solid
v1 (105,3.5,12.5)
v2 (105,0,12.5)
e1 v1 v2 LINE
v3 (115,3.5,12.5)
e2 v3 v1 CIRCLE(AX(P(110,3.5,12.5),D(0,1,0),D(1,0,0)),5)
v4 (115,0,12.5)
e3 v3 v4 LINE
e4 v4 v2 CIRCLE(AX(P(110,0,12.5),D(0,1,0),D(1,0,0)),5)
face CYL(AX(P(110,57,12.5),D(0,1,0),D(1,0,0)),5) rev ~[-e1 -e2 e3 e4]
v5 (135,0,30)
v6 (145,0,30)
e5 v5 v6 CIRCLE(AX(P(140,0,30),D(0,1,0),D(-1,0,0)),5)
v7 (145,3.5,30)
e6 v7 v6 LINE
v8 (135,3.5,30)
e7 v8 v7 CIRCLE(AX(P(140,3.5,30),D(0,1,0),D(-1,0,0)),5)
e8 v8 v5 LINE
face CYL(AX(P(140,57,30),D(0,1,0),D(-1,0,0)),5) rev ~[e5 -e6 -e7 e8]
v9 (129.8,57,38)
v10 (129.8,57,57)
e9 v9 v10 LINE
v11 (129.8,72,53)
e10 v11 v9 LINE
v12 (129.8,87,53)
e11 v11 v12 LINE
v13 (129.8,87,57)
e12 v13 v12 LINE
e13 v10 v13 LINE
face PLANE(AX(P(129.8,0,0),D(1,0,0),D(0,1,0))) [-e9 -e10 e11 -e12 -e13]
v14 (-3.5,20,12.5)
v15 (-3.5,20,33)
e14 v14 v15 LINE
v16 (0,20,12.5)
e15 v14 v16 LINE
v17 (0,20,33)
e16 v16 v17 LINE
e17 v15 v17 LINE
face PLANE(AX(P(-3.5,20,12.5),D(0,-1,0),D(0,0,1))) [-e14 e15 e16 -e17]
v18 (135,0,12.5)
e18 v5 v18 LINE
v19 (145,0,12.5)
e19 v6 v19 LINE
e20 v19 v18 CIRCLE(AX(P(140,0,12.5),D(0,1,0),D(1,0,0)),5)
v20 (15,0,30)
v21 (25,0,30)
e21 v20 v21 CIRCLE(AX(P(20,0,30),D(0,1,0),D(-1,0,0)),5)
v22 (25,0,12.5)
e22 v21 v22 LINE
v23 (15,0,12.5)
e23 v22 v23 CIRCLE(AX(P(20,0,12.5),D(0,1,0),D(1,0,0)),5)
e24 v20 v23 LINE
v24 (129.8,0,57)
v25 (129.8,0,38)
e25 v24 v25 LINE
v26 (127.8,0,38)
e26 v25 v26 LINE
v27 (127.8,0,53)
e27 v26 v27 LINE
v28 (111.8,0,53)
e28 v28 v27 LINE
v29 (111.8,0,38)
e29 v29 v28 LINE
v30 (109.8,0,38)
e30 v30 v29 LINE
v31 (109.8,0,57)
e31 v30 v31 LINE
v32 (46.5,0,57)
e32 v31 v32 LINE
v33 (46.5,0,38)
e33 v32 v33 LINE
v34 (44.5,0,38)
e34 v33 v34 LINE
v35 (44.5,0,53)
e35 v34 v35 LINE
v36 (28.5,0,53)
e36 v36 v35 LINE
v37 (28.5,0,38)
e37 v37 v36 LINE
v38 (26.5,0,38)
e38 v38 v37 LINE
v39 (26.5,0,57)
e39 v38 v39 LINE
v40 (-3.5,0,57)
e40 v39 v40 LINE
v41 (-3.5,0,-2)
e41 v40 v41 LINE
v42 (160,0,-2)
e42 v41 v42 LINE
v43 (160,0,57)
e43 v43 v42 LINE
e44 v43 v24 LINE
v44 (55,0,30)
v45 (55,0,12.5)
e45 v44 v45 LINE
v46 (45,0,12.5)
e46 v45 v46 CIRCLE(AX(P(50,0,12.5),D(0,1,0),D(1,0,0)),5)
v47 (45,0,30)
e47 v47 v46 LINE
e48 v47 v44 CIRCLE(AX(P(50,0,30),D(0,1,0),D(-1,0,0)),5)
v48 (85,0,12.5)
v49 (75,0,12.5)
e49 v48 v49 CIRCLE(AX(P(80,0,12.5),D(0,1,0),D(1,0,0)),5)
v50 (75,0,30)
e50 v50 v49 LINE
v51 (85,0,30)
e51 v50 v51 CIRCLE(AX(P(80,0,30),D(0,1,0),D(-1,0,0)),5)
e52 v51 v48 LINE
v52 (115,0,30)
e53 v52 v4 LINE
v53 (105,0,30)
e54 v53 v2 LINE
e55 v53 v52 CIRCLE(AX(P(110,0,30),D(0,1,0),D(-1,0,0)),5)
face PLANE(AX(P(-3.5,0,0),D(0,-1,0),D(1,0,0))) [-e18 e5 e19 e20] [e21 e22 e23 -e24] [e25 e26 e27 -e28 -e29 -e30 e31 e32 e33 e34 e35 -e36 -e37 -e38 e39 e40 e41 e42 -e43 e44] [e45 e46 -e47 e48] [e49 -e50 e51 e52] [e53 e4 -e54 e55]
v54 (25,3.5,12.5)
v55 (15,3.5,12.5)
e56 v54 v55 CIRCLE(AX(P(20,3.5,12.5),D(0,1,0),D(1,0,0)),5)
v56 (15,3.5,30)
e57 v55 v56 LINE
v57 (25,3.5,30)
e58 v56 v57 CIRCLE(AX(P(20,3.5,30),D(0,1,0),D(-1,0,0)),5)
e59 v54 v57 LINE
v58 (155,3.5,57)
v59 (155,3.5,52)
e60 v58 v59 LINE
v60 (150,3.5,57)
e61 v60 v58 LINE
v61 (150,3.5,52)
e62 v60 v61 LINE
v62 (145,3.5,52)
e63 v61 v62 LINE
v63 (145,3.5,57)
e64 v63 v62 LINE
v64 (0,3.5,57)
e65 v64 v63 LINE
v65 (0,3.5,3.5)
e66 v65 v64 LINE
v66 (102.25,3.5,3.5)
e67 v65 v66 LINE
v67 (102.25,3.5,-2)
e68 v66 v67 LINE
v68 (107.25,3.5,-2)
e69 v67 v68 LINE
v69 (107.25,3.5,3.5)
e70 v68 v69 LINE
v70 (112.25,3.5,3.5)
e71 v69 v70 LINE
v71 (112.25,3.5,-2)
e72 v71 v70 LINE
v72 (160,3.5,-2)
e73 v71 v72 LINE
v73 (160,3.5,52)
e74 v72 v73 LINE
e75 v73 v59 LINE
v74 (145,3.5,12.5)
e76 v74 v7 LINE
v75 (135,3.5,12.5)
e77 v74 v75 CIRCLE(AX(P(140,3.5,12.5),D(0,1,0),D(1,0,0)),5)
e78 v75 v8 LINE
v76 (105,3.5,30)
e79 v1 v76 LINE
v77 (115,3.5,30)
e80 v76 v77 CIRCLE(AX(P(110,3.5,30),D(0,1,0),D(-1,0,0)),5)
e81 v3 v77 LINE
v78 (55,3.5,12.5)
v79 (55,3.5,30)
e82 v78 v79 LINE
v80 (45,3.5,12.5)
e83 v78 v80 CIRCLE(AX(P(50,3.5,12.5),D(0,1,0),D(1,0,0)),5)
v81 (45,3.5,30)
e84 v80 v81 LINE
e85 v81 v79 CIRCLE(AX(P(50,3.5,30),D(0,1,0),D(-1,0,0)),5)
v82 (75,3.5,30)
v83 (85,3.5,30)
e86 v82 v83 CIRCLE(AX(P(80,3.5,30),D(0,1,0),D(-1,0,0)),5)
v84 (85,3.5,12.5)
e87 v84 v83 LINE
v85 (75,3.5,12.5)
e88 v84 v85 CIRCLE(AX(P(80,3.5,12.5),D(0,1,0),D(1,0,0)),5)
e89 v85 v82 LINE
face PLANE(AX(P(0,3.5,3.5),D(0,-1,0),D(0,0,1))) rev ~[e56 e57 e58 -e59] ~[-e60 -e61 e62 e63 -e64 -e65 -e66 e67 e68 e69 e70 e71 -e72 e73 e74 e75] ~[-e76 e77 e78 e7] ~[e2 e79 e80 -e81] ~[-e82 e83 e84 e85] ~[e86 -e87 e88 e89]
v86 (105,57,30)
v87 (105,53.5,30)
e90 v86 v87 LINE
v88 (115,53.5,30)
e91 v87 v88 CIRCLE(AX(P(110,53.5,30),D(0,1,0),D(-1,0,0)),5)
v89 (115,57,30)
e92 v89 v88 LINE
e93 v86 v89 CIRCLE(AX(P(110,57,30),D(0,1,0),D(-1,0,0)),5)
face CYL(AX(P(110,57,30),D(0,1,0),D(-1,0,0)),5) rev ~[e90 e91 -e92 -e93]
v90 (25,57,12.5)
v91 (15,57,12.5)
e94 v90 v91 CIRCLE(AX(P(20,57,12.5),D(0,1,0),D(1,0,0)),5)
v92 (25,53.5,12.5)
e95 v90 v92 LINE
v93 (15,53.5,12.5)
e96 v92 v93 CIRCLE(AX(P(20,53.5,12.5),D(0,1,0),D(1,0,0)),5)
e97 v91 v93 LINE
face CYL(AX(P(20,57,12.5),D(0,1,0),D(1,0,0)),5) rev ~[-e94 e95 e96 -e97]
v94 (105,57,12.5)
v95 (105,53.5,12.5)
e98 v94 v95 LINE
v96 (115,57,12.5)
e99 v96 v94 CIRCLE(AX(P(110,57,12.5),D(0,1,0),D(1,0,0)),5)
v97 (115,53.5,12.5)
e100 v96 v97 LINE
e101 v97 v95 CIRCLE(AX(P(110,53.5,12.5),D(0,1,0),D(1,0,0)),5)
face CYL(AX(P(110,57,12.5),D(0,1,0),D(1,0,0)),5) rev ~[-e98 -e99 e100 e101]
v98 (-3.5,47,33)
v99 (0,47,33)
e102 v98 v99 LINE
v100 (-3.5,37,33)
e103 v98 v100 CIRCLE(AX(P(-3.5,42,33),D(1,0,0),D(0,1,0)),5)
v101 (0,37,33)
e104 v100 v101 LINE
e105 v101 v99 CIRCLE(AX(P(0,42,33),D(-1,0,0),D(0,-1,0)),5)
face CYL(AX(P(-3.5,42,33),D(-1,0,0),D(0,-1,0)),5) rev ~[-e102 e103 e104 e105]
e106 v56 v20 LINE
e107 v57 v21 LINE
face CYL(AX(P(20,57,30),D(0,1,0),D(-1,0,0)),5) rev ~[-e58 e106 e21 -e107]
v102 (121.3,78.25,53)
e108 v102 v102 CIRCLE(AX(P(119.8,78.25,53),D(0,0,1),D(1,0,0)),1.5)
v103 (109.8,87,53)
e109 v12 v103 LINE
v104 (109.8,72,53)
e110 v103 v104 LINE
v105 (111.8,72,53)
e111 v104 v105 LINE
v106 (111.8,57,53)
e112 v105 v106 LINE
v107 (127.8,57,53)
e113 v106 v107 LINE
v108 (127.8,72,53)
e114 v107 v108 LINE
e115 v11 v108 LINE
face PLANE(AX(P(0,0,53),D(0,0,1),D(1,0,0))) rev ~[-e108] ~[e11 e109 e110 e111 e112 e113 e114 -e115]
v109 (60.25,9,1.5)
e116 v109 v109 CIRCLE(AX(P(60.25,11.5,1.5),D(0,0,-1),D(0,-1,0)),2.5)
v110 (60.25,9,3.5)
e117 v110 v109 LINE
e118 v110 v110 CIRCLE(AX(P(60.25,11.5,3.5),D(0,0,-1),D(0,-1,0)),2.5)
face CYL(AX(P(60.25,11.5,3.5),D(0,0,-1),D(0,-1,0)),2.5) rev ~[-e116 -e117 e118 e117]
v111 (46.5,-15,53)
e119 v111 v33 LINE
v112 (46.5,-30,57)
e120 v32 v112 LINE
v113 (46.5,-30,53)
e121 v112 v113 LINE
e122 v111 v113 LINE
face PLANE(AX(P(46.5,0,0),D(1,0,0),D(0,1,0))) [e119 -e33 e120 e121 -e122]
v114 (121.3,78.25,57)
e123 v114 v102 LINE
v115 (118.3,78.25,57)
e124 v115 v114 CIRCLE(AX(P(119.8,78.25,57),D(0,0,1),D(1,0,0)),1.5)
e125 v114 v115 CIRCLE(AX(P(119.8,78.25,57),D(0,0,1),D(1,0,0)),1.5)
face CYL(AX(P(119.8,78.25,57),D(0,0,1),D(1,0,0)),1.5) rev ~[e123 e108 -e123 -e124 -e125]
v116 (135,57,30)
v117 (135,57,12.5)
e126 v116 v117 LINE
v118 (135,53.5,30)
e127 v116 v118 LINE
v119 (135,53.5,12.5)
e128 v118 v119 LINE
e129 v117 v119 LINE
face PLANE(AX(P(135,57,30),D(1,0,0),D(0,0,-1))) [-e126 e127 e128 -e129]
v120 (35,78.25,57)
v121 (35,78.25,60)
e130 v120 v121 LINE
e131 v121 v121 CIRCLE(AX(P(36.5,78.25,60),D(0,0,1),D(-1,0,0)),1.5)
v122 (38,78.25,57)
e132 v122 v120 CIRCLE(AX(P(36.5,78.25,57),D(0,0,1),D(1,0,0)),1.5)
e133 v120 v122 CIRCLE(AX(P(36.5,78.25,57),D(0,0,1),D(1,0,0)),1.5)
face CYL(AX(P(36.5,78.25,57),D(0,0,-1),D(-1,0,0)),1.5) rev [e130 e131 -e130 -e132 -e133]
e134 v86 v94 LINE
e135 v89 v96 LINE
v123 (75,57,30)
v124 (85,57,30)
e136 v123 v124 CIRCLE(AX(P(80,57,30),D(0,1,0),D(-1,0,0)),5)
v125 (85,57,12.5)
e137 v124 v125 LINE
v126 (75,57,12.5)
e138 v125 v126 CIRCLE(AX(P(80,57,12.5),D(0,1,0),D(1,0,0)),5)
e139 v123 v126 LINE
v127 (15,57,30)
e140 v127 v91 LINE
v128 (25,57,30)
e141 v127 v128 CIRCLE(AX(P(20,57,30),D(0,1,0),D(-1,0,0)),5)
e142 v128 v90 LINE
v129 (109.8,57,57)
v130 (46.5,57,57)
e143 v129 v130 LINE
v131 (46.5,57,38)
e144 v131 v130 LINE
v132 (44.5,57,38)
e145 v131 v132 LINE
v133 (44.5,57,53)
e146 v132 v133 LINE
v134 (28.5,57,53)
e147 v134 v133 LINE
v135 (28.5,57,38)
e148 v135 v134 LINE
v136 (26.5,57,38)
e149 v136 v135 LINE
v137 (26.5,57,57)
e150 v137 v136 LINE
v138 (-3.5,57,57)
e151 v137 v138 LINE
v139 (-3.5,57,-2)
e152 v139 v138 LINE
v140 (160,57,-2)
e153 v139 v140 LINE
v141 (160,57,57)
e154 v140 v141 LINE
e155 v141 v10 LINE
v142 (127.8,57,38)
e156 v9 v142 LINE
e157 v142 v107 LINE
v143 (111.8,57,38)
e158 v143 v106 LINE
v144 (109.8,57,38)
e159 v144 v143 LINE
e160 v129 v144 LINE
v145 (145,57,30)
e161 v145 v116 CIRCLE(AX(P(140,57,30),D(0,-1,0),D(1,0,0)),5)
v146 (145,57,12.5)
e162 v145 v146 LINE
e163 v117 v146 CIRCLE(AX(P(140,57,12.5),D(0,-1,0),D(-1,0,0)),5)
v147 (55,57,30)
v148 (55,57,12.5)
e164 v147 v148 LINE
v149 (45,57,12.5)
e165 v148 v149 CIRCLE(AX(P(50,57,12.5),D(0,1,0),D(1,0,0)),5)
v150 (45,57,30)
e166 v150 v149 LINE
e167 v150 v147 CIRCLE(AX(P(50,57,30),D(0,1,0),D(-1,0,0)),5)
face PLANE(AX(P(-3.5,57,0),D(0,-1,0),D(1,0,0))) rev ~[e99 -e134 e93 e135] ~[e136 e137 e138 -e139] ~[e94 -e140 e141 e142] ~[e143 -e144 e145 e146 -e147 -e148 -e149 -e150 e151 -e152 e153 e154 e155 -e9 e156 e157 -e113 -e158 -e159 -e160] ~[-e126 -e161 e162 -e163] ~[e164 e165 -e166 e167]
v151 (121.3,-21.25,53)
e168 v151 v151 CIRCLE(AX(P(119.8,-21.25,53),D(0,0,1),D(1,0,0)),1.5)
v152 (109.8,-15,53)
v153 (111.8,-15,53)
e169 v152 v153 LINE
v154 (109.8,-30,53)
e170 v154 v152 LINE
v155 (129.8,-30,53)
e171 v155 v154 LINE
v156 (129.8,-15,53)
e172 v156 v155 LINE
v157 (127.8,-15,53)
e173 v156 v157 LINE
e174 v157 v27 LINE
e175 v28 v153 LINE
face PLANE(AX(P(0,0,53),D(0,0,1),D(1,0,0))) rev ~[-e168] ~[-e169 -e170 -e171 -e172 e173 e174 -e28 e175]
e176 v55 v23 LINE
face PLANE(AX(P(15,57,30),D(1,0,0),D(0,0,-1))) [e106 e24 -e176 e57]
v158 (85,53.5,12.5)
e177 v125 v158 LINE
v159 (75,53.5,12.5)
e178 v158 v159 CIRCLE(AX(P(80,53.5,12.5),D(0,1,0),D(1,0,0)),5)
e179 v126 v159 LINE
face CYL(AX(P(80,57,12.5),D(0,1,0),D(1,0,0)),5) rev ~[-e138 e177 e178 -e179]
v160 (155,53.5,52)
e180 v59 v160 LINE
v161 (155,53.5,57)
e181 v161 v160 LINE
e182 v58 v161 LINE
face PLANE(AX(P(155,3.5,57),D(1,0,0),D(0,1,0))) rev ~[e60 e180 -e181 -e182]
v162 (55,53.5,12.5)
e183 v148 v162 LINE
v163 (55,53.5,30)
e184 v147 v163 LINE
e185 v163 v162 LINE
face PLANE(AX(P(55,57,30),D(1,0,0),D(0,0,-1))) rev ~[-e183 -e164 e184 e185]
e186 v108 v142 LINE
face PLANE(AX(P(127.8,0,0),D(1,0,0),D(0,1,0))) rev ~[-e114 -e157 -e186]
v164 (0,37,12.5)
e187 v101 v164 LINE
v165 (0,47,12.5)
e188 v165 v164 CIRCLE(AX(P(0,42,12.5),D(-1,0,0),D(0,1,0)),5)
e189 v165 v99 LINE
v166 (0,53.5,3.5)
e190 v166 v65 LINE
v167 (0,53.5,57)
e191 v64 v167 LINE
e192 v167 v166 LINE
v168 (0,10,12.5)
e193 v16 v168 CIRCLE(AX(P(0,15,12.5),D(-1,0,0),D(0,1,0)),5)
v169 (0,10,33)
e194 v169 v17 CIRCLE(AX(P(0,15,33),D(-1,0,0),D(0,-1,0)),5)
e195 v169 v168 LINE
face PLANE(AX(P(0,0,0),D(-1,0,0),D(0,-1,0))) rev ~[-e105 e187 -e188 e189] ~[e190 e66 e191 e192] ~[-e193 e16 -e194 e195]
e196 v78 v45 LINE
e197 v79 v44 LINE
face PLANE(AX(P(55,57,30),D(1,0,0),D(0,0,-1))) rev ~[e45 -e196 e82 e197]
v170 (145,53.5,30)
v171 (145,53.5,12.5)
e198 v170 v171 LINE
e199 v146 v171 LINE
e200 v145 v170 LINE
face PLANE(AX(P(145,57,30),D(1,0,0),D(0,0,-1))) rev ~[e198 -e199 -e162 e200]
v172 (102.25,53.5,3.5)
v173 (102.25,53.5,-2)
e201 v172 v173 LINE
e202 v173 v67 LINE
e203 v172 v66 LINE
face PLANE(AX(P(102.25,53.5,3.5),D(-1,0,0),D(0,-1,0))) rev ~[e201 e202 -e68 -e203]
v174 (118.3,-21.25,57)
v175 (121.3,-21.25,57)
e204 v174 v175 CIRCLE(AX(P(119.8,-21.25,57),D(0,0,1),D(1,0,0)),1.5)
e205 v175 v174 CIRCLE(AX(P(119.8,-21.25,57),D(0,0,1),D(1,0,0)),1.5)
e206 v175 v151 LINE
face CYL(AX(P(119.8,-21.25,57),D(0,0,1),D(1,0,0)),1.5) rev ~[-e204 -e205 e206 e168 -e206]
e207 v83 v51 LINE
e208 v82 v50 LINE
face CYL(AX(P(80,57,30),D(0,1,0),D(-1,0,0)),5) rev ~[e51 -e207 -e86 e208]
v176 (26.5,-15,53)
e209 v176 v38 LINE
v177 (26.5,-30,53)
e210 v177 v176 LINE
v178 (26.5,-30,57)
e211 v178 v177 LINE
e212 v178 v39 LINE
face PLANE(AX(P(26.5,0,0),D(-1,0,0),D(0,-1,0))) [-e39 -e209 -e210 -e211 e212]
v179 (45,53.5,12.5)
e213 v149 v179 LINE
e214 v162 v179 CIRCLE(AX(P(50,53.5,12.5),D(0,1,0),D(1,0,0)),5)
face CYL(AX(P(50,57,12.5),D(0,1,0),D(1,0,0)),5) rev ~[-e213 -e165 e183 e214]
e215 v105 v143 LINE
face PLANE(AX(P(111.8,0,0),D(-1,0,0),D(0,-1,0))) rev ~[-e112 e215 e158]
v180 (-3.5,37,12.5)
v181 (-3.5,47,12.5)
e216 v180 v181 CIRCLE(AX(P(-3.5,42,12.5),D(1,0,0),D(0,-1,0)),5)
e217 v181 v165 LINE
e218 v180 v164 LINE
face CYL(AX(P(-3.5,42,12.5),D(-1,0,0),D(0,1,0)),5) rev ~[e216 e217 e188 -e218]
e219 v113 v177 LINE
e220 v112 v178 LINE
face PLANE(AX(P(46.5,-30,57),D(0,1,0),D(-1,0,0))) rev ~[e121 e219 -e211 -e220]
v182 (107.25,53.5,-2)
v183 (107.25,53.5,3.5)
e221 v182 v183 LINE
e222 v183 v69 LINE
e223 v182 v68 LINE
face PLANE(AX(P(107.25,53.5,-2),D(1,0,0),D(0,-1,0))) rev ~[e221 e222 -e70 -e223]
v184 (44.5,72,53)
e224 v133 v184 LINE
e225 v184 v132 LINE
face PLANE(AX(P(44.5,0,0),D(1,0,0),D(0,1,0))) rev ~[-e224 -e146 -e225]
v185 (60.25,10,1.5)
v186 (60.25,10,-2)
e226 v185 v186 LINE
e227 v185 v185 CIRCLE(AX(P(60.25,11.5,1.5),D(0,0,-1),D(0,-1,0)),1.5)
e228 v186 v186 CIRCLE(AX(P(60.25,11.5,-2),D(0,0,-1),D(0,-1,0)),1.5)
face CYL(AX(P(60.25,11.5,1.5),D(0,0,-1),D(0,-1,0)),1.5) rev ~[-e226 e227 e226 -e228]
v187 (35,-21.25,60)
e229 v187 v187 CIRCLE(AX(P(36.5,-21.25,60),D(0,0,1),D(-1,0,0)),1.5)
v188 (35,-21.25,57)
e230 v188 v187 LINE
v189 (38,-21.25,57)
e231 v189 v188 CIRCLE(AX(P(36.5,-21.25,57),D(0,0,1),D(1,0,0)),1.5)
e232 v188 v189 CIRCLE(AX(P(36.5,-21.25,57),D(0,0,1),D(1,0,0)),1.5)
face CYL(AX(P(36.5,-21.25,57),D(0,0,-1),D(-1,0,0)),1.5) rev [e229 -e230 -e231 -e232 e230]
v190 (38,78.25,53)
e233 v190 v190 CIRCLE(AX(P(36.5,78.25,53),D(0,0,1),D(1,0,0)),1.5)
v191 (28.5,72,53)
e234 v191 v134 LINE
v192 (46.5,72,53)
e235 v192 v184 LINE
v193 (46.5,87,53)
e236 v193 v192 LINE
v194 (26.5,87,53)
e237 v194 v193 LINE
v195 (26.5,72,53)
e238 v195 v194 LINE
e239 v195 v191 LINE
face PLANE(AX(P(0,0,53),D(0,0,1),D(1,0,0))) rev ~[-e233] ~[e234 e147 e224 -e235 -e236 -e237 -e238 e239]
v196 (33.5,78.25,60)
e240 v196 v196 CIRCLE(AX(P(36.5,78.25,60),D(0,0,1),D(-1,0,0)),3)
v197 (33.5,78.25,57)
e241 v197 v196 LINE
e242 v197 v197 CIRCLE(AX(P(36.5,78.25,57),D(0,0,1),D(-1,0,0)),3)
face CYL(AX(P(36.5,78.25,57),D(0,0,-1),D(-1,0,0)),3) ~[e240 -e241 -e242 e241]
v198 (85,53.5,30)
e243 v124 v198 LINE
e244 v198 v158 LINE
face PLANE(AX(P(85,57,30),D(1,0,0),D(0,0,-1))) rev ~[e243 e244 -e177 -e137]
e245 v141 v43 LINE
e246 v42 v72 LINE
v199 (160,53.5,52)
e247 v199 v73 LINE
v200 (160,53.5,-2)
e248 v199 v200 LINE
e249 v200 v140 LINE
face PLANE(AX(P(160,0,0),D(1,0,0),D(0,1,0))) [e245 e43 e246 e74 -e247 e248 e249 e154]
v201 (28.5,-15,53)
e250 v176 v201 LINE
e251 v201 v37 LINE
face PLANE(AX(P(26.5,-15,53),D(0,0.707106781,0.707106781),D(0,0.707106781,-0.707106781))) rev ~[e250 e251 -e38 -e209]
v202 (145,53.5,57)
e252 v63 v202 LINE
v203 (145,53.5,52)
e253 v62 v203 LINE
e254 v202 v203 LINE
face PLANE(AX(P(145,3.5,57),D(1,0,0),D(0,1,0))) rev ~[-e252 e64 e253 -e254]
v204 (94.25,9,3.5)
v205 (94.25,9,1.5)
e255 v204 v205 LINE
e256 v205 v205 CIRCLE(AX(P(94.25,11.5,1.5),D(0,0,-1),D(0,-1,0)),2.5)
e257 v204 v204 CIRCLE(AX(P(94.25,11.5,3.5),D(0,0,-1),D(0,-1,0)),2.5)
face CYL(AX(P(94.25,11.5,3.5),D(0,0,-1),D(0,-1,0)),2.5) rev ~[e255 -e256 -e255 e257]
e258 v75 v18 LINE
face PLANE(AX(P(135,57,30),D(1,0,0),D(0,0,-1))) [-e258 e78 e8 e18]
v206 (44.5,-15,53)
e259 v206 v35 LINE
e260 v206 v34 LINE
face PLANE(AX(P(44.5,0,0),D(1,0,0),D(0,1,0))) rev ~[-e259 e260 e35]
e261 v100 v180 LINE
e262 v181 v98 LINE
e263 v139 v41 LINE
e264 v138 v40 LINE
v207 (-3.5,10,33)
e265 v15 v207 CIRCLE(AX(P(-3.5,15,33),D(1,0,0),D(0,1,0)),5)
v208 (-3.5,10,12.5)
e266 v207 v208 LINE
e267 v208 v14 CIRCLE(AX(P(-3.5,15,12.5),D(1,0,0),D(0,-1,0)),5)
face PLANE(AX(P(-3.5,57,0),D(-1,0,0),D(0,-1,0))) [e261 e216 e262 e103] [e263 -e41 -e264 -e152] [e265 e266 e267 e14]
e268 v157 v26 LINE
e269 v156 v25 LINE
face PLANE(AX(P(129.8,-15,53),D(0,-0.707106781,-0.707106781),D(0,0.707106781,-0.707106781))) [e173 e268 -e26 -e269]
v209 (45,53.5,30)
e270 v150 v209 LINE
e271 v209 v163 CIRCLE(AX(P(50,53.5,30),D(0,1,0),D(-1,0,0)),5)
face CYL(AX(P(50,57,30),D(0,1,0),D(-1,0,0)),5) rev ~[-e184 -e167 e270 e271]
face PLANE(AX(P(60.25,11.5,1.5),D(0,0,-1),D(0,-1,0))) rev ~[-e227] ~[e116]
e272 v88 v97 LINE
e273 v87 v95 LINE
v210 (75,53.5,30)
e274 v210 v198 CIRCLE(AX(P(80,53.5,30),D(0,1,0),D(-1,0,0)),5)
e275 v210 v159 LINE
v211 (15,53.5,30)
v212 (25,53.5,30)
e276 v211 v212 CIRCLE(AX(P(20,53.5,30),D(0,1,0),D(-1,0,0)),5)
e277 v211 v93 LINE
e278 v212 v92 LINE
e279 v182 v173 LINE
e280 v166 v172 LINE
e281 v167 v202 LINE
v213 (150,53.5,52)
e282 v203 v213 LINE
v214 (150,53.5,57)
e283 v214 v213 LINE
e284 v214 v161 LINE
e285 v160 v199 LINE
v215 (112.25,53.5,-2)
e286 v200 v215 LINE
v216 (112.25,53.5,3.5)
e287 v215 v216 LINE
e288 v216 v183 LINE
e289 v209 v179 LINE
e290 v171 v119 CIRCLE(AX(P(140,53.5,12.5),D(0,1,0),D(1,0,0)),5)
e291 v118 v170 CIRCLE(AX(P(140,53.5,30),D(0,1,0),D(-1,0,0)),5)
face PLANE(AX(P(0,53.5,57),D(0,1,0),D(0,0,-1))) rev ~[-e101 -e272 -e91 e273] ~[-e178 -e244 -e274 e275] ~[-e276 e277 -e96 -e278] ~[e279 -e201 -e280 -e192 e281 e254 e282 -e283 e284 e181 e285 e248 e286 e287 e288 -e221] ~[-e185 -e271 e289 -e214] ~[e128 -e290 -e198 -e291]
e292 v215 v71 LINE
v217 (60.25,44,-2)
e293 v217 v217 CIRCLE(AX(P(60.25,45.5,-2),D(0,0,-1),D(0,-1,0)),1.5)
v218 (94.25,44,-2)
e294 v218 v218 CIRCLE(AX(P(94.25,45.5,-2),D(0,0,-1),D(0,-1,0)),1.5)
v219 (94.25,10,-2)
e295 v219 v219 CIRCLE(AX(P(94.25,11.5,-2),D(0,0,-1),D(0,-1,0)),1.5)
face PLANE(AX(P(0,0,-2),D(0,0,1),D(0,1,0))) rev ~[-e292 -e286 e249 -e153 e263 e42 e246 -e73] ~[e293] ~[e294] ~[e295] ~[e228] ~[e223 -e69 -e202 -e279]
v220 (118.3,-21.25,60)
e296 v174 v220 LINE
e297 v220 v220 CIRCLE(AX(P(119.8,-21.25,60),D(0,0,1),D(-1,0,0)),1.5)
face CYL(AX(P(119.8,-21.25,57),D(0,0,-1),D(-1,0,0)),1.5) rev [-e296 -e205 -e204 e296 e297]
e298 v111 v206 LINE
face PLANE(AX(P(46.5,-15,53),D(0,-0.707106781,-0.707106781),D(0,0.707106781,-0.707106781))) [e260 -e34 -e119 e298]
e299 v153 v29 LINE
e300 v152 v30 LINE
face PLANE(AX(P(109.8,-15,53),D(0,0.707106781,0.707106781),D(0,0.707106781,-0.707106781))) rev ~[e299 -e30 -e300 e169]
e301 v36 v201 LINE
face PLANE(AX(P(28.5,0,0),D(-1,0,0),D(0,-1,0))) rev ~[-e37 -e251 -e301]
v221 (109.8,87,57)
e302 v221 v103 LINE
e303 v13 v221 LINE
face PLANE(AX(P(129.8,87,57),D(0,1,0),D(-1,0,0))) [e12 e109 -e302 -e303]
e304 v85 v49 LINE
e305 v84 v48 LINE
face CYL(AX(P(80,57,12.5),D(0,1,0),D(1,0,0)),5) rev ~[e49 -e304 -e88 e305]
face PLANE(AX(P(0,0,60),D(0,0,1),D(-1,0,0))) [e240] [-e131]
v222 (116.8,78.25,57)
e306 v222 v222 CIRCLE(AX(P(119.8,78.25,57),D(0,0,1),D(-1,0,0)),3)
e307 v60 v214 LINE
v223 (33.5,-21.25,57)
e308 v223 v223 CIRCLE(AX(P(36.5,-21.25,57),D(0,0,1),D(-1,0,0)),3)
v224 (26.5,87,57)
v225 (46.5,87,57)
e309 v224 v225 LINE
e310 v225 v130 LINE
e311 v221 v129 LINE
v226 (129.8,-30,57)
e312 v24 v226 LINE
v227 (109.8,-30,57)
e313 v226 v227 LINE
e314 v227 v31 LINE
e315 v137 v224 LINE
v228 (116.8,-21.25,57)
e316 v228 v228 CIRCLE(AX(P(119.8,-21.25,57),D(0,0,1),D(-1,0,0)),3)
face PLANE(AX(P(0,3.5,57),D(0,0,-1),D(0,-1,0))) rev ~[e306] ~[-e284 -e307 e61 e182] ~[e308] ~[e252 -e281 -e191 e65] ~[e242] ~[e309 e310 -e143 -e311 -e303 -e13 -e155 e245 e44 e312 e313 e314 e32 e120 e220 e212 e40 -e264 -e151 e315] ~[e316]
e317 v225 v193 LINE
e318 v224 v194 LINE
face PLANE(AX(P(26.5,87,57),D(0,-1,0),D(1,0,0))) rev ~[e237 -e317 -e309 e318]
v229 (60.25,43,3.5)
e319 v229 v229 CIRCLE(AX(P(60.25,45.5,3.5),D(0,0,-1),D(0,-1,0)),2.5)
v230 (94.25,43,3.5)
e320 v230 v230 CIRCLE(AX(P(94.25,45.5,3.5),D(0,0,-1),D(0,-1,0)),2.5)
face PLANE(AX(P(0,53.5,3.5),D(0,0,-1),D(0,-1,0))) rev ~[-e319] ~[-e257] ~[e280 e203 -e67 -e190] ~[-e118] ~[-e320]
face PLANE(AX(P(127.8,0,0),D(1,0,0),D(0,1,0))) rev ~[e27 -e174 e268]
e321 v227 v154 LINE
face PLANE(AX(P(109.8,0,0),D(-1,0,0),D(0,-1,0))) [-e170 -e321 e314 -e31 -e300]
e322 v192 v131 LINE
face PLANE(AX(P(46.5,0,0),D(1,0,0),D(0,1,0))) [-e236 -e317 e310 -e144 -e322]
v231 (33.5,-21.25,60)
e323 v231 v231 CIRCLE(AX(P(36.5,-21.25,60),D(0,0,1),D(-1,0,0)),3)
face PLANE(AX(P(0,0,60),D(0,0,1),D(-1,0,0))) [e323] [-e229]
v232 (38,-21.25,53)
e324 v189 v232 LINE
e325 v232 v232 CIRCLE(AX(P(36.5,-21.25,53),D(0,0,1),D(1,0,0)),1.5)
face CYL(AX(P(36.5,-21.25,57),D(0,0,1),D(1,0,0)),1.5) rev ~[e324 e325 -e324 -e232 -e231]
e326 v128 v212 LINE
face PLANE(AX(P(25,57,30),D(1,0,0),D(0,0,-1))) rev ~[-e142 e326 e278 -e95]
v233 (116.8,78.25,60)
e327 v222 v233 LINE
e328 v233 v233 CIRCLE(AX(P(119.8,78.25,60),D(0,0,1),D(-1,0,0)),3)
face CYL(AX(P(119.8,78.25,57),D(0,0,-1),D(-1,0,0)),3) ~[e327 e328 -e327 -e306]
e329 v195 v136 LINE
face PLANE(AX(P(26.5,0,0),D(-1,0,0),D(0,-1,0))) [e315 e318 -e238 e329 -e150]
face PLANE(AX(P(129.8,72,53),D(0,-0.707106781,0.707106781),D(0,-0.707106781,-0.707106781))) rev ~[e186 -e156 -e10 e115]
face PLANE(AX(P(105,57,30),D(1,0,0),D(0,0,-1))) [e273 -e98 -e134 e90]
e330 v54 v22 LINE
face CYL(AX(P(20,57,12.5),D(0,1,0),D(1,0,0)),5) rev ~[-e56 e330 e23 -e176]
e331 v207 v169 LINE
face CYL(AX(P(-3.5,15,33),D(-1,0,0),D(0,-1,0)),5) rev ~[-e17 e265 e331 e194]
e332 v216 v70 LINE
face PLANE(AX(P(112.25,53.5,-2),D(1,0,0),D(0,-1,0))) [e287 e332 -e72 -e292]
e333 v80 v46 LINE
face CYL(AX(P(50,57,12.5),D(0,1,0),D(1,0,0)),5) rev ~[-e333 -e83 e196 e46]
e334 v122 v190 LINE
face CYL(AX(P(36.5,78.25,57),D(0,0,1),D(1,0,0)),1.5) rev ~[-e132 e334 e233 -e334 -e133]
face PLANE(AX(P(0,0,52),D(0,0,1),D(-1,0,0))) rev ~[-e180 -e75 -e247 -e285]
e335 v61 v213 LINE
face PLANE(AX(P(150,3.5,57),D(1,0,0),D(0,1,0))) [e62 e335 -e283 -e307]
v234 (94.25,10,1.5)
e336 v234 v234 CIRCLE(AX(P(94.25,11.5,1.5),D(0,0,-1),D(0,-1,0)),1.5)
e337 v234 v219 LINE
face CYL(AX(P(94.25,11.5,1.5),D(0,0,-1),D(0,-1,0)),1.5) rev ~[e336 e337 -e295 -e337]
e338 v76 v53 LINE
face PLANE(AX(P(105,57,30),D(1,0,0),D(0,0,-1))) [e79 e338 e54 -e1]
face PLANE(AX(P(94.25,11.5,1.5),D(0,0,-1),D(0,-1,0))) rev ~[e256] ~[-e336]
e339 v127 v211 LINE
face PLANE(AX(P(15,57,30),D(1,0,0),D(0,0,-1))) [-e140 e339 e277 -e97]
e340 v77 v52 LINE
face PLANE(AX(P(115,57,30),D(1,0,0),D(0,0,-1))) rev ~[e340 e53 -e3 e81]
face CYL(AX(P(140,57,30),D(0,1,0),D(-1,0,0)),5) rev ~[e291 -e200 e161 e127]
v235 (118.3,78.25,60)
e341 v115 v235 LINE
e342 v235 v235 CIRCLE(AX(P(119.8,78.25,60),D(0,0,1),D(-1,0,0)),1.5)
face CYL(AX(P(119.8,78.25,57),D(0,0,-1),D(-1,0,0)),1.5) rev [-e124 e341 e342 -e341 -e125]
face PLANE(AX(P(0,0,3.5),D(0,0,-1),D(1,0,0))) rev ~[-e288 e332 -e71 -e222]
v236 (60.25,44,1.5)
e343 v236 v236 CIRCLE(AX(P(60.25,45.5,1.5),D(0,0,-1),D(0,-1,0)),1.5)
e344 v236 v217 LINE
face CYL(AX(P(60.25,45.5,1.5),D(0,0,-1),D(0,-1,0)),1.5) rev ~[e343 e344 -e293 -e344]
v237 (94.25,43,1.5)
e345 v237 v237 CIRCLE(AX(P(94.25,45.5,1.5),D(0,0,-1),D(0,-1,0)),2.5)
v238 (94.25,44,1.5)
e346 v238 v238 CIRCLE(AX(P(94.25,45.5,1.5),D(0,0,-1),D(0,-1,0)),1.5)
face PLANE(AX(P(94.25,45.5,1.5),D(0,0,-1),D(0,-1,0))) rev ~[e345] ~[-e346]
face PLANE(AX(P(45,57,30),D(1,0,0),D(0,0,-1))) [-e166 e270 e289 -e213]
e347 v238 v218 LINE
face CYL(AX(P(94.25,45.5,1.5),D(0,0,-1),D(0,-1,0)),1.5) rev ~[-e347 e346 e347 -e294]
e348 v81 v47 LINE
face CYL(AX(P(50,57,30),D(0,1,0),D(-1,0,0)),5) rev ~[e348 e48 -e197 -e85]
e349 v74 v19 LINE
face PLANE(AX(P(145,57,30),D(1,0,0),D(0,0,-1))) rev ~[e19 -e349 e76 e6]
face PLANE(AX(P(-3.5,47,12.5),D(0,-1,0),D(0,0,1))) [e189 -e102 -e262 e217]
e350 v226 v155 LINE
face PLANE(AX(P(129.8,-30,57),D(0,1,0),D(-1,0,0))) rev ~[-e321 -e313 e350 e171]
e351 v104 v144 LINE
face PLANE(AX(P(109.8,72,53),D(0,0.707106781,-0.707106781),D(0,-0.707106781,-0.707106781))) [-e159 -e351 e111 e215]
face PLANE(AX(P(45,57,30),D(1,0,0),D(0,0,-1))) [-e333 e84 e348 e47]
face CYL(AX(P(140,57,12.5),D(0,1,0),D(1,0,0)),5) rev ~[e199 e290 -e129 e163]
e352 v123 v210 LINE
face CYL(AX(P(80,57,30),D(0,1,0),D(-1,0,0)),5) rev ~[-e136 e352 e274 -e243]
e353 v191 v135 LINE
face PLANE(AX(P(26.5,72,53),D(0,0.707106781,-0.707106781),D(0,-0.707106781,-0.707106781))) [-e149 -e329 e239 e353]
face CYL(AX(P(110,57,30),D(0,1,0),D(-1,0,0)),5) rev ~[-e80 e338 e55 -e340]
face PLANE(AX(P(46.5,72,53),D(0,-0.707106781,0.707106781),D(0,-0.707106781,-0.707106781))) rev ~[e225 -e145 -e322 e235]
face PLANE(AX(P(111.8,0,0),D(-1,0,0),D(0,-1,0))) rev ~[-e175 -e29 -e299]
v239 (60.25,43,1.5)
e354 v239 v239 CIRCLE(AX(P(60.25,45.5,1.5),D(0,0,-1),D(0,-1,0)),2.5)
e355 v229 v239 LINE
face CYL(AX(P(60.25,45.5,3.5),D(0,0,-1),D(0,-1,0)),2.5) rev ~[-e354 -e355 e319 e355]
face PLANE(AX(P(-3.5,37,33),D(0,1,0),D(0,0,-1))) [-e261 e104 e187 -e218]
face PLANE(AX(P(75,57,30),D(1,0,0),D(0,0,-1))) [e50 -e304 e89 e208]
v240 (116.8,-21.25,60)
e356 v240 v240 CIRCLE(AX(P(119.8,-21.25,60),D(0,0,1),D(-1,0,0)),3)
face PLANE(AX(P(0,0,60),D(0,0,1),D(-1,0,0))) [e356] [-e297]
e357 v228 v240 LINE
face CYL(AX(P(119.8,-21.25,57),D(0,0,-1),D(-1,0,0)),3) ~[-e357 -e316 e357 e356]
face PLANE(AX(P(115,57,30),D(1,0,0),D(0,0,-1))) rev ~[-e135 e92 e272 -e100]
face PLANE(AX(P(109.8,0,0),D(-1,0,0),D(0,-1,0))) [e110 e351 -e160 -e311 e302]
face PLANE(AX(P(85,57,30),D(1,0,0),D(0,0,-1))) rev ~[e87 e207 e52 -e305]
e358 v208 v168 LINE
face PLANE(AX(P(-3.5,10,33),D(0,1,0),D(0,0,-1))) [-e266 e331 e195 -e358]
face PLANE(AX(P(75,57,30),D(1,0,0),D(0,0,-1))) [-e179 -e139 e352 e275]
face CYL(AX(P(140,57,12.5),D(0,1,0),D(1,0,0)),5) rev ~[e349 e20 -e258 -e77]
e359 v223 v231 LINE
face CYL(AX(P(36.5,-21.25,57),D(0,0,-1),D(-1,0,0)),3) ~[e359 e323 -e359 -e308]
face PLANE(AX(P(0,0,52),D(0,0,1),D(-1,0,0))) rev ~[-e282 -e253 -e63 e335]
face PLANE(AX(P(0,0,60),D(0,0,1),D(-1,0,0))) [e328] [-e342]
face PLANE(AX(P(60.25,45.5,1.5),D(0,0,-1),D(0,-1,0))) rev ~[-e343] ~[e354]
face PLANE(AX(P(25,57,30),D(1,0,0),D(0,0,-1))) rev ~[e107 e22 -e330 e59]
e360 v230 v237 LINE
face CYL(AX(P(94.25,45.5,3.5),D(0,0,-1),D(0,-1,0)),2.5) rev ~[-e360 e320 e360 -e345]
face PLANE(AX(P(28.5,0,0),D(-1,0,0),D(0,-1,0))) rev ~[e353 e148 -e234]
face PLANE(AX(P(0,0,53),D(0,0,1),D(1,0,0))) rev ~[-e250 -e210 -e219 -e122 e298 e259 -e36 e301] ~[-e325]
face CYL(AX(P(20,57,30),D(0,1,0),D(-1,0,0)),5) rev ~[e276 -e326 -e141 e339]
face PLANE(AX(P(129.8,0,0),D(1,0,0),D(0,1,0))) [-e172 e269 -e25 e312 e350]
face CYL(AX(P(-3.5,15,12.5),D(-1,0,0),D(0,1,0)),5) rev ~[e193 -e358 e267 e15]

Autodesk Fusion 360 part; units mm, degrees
sketch "Sketch1" plane through (0, 0, 0) normal (1, 0, 0) x (0, 1, 0)
  line L0 (0, 0) -> (57, 0)
  line L1 (57, 0) -> (57, 57)
  line L2 (57, 57) -> (0, 57)
  line L3 (0, 57) -> (0, 0)
  line L4 (3.5, 57) -> (53.5, 57)
  line L5 (53.5, 57) -> (53.5, 3.5)
  line L6 (53.5, 3.5) -> (3.5, 3.5)
  line L7 (3.5, 3.5) -> (3.5, 57)
  dimension "d1" = 57
  dimension "d2" = 57
  dimension "d3" = 3.5
  dimension "d4" = 3.5
  dimension "d5" = 3.5
extrude "Extrude1" add sketch "Sketch1" along normal blind 160 contours L0 L1 L2 L3 L5 L6 L7
sketch "Sketch2" plane through (0, 0, 0) normal (-1, 0, 0) x (0, -1, 0)
  line L0 (-3.5, 57) -> (-3.5, 3.5)
  line L1 (-3.5, 3.5) -> (-53.5, 3.5)
  line L2 (-53.5, 3.5) -> (-53.5, 57)
  line L3 (-53.5, 57) -> (-57, 57)
  line L4 (-57, 57) -> (-57, 0)
  line L5 (-57, 0) -> (0, 0)
  line L6 (0, 0) -> (0, 57)
  line L7 (0, 57) -> (-3.5, 57)
  line L8 (-57, 57) -> (0, 57)
  line L9 (0, 57) -> (0, 0)
  line L10 (0, 0) -> (-57, 0)
  line L11 (-57, 0) -> (-57, 57)
extrude "Extrude2" add sketch "Sketch2" along normal blind 3.5
ref_plane "WorkPlane1" through (78.25, 28.5, 57) normal (0, 0, 1) x (0, -1, 0)
sketch "Sketch4" plane through (0, 0, 57) normal (0, 0, 1) x (1, 0, 0)
  circle A0 centre (36.5, 78.25) radius 1.5
  circle A1 centre (119.8, 78.25) radius 1.5
  circle A2 centre (36.5, -21.25) radius 1.5
  circle A3 centre (119.8, -21.25) radius 1.5
  line L0 (-3.5, 57) -> (160, 57)
  line L1 (26.5, 0) -> (46.5, 0)
  line L2 (46.5, 0) -> (46.5, -30)
  line L3 (46.5, -30) -> (26.5, -30)
  line L4 (26.5, -30) -> (26.5, 0)
  line L5 (109.8, 0) -> (129.8, 0)
  line L6 (129.8, 0) -> (129.8, -30)
  line L7 (129.8, -30) -> (109.8, -30)
  line L8 (109.8, -30) -> (109.8, 0)
  line L9 (109.8, 57) -> (129.8, 57)
  line L10 (129.8, 57) -> (129.8, 87)
  line L11 (129.8, 87) -> (109.8, 87)
  line L12 (109.8, 87) -> (109.8, 57)
  line L13 (26.5, 87) -> (46.5, 87)
  line L14 (46.5, 87) -> (46.5, 57)
  line L15 (46.5, 57) -> (26.5, 57)
  line L16 (26.5, 57) -> (26.5, 87)
  line L17 (-3.5, 57) -> (-3.5, 54.574)
  line L18 (-3.5, 0) -> (-3.5, 57)
  point P0 (-3.5, 57)
  dimension "d27" = 3
  dimension "d29" = 3
  dimension "d31" = 3
  dimension "d33" = 3
  dimension "d38" = 21.25
  dimension "d39" = 10
  dimension "d40" = 10
  dimension "d41" = 20
  dimension "d42" = 30
  dimension "d43" = 20
  dimension "d44" = 30
  dimension "d45" = 10
  dimension "d46" = 10
  dimension "d47" = 21.25
  dimension "d51" = 30
  dimension "d52" = 20
  dimension "d53" = 30
  dimension "d54" = 20
  dimension "d186" = 63.3
  dimension "d187" = 63.3
  dimension "d188" = 103.3
  dimension "d189" = 163.5
  dimension "d190" = 30
  dimension "d191" = 30
extrude "Extrude4" add sketch "Sketch4" against normal blind 4
sketch "Sketch5" plane through (129.8, 0, 0) normal (1, 0, 0) x (0, 1, 0)
  line L0 (0, 57) -> (-30, 57)
  line L1 (-30, 57) -> (-30, 53)
  line L2 (-30, 53) -> (0, 53)
  line L3 (0, 53) -> (0, 57)
  line L4 (0, 53) -> (-15, 53)
  line L5 (-15, 53) -> (0, 38)
  line L6 (0, 38) -> (0, 53)
  dimension "d55" = 45
extrude "Extrude5" add sketch "Sketch5" against normal blind 2 contours L2 L4 L5 L6
sketch "Sketch6" plane through (129.8, 0, 0) normal (1, 0, 0) x (0, 1, 0)
  line L0 (87, 57) -> (57, 57)
  line L1 (57, 57) -> (57, 53)
  line L2 (57, 53) -> (87, 53)
  line L3 (87, 53) -> (87, 57)
  line L4 (57, 53) -> (72, 53)
  line L5 (72, 53) -> (57, 38)
  line L6 (57, 38) -> (57, 53)
  dimension "d58" = 45
extrude "Extrude6" add sketch "Sketch6" against normal blind 2 contours L2 L4 L5 L6
sketch "Sketch7" plane through (109.8, 0, 0) normal (-1, 0, 0) x (0, -1, 0)
  line L0 (-57, 57) -> (-87, 57)
  line L1 (-87, 57) -> (-87, 53)
  line L2 (-87, 53) -> (-57, 53)
  line L3 (-57, 53) -> (-57, 57)
  line L4 (-57, 53) -> (-72, 53)
  line L5 (-72, 53) -> (-57, 38)
  line L6 (-57, 38) -> (-57, 53)
  dimension "d61" = 45
extrude "Extrude7" add sketch "Sketch7" against normal blind 2 contours L2 L4 L5 L6
sketch "Sketch8" plane through (109.8, 0, 0) normal (-1, 0, 0) x (0, -1, 0)
  line L0 (30, 57) -> (0, 57)
  line L1 (0, 57) -> (0, 53)
  line L2 (0, 53) -> (30, 53)
  line L3 (30, 53) -> (30, 57)
  line L4 (0, 53) -> (15, 53)
  line L5 (15, 53) -> (0, 38)
  line L6 (0, 38) -> (0, 53)
  dimension "d64" = 45
extrude "Extrude8" add sketch "Sketch8" against normal blind 2 contours L2 L4 L5 L6
sketch "Sketch9" plane through (46.5, 0, 0) normal (1, 0, 0) x (0, 1, 0)
  line L0 (0, 57) -> (-30, 57)
  line L1 (-30, 57) -> (-30, 53)
  line L2 (-30, 53) -> (0, 53)
  line L3 (0, 53) -> (0, 57)
  line L4 (0, 53) -> (-15, 53)
  line L5 (-15, 53) -> (0, 38)
  line L6 (0, 38) -> (0, 53)
  dimension "d67" = 45
extrude "Extrude9" add sketch "Sketch9" against normal blind 2 contours L2 L4 L5 L6
sketch "Sketch10" plane through (26.5, 0, 0) normal (-1, 0, 0) x (0, -1, 0)
  line L0 (30, 57) -> (0, 57)
  line L1 (0, 57) -> (0, 53)
  line L2 (0, 53) -> (30, 53)
  line L3 (30, 53) -> (30, 57)
  line L4 (0, 53) -> (15, 53)
  line L5 (15, 53) -> (0, 38)
  line L6 (0, 38) -> (0, 53)
extrude "Extrude10" add sketch "Sketch10" against normal blind 2 contours L2 L4 L5 L6
sketch "Sketch11" plane through (26.5, 0, 0) normal (-1, 0, 0) x (0, -1, 0)
  line L0 (-57, 57) -> (-87, 57)
  line L1 (-87, 57) -> (-87, 53)
  line L2 (-87, 53) -> (-57, 53)
  line L3 (-57, 53) -> (-57, 57)
  line L4 (-57, 53) -> (-72, 53)
  line L5 (-72, 53) -> (-57, 38)
  line L6 (-57, 38) -> (-57, 53)
extrude "Extrude11" add sketch "Sketch11" against normal blind 2 contours L2 L4 L5 L6
sketch "Sketch12" plane through (46.5, 0, 0) normal (1, 0, 0) x (0, 1, 0)
  line L0 (87, 57) -> (57, 57)
  line L1 (57, 57) -> (57, 53)
  line L2 (57, 53) -> (87, 53)
  line L3 (87, 53) -> (87, 57)
  line L4 (57, 53) -> (72, 53)
  line L5 (72, 53) -> (57, 38)
  line L6 (57, 38) -> (57, 53)
  dimension "d74" = 45
extrude "Extrude12" add sketch "Sketch12" against normal blind 2 contours L2 L4 L5 L6
extrude "Extrude20" add 1 faces at (105.5, 38, 0) along direction (0, 0, -1) blind 2
sketch "Sketch23" plane through (0, 0, 3.5) normal (0, 0, 1) x (-1, 0, 0)
  line L0 (0, -53.5) -> (0, -3.5)
  line L1 (0, -3.5) -> (-160, -3.5)
  line L2 (-160, -3.5) -> (-160, -53.5)
  line L3 (-160, -53.5) -> (0, -53.5)
  line L4 (-160, -53.5) -> (-102.25, -53.5)
  line L5 (-102.25, -53.5) -> (-102.25, -3.5)
  line L6 (-102.25, -3.5) -> (-160, -3.5)
  line L7 (-160, -3.5) -> (-160, -53.5)
extrude "Extrude22" cut sketch "Sketch23" against normal up to surface (5.5 mm away) contours L1 L2 L3 L4 L5 L6 L7
sketch "Sketch28" plane through (0, 0, 57) normal (0, 0, 1) x (-1, 0, 0)
  line L0 (-160, 0) -> (-160, -3.5)
  line L1 (-160, -57) -> (-129.8, -57)
  line L2 (-129.8, -57) -> (-129.8, -87)
  line L3 (-129.8, -87) -> (-109.8, -87)
  line L4 (-109.8, -87) -> (-109.8, -57)
  line L5 (-109.8, -57) -> (-46.5, -57)
  line L6 (-46.5, -57) -> (-46.5, -87)
  line L7 (-46.5, -87) -> (-26.5, -87)
  line L8 (-26.5, -87) -> (-26.5, -57)
  line L9 (-26.5, -57) -> (3.5, -57)
  line L10 (3.5, -57) -> (3.5, 0)
  line L11 (3.5, 0) -> (-26.5, 0)
  line L12 (-26.5, 0) -> (-26.5, 30)
  line L13 (-26.5, 30) -> (-46.5, 30)
  line L14 (-46.5, 30) -> (-46.5, 0)
  line L15 (-46.5, 0) -> (-109.8, 0)
  line L16 (-109.8, 0) -> (-109.8, 30)
  line L17 (-109.8, 30) -> (-129.8, 30)
  line L18 (-129.8, 30) -> (-129.8, 0)
  line L19 (-129.8, 0) -> (-160, 0)
  line L20 (0, -3.5) -> (0, -53.5)
  line L21 (0, -53.5) -> (-160, -53.5)
  line L22 (-160, -3.5) -> (0, -3.5)
  circle A0 centre (-119.8, 21.25) radius 1.5
  circle A1 centre (-36.5, 21.25) radius 1.5
  circle A2 centre (-119.8, -78.25) radius 1.5
  circle A3 centre (-36.5, -78.25) radius 1.5
  circle A4 centre (-36.5, -78.25) radius 1.5
  circle A5 centre (-119.8, -78.25) radius 1.5
  circle A6 centre (-36.5, 21.25) radius 1.5
  circle A7 centre (-119.8, 21.25) radius 1.5
  circle A8 centre (-119.8, 21.25) radius 3
  circle A9 centre (-36.5, 21.25) radius 3
  circle A10 centre (-36.5, -78.25) radius 3
  circle A11 centre (-119.8, -78.25) radius 3
  line L23 (-160, -53.5) -> (-160, -57)
  dimension "d249" = 3
  dimension "d250" = 3
  dimension "d251" = 3
  dimension "d252" = 3
  dimension "d253" = 6
  dimension "d254" = 6
  dimension "d255" = 6
  dimension "d256" = 6
extrude "Extrude27" add sketch "Sketch28" along normal blind 3 contours A8 | A9 | A10 | A11
sketch "Sketch30" plane through (0, 57, 0) normal (0, 1, 0) x (-1, 0, 0)
  line L0 (-46.5, 38) -> (-46.5, 57)
  line L1 (-46.5, 57) -> (-109.8, 57)
  line L2 (-109.8, 57) -> (-109.8, 38)
  line L3 (-109.8, 38) -> (-111.8, 38)
  line L4 (-111.8, 38) -> (-111.8, 53)
  line L5 (-111.8, 53) -> (-127.8, 53)
  line L6 (-127.8, 53) -> (-127.8, 38)
  line L7 (-127.8, 38) -> (-129.8, 38)
  line L8 (-129.8, 38) -> (-129.8, 57)
  line L9 (-129.8, 57) -> (-160, 57)
  line L10 (-160, 57) -> (-160, -2)
  line L11 (-160, -2) -> (3.5, -2)
  line L12 (3.5, -2) -> (3.5, 57)
  line L13 (3.5, 57) -> (-26.5, 57)
  line L14 (-26.5, 57) -> (-26.5, 38)
  line L15 (-26.5, 38) -> (-28.5, 38)
  line L16 (-28.5, 38) -> (-28.5, 53)
  line L17 (-28.5, 53) -> (-44.5, 53)
  line L18 (-44.5, 53) -> (-44.5, 38)
  line L19 (-44.5, 38) -> (-46.5, 38)
  arc A0 (-140, 35) -> (-140, 25) centre (-140, 30) ccw
  arc A1 (-140, 17.5) -> (-140, 7.5) centre (-140, 12.5) ccw
  line L20 (-140, 30) -> (-110, 30)
  line L21 (-105, 30) -> (-85, 30)
  line L22 (-80, 30) -> (-55, 30)
  line L23 (-50, 30) -> (-20, 30)
  line L24 (-140, 12.5) -> (-110, 12.5)
  line L25 (-105, 12.5) -> (-80, 12.5)
  line L26 (-75, 12.5) -> (-55, 12.5)
  line L27 (-145, 30) -> (-145, 12.5)
  line L28 (-135, 30) -> (-135, 12.5)
  line L29 (-115, 30) -> (-115, 12.5)
  line L30 (-105, 30) -> (-105, 12.5)
  line L31 (-75, 30) -> (-75, 12.5)
  line L32 (-85, 30) -> (-85, 12.5)
  line L33 (-45, 30) -> (-45, 12.5)
  line L34 (-55, 30) -> (-55, 12.5)
  line L35 (-25, 30) -> (-25, 12.5)
  line L36 (-15, 30) -> (-15, 12.5)
  arc A2 (-25, 12.5) -> (-15, 12.5) centre (-20, 12.5) ccw
  arc A3 (-15, 30) -> (-25, 30) centre (-20, 30) ccw
  arc A4 (-55, 12.5) -> (-45, 12.5) centre (-50, 12.5) ccw
  arc A5 (-45, 30) -> (-55, 30) centre (-50, 30) ccw
  line L37 (-75, 12.5) -> (-20, 12.5)
  arc A6 (-85, 12.5) -> (-75, 12.5) centre (-80, 12.5) ccw
  arc A7 (-75, 30) -> (-85, 30) centre (-80, 30) ccw
  arc A8 (-105, 30) -> (-115, 30) centre (-110, 30) ccw
  arc A9 (-115, 12.5) -> (-105, 12.5) centre (-110, 12.5) ccw
  line L38 (-140, 12.5) -> (-115, 12.5)
  line L39 (-105, 12.5) -> (-85, 12.5)
  arc A10 (-135, 30) -> (-145, 30) centre (-140, 30) ccw
  arc A11 (-145, 12.5) -> (-135, 12.5) centre (-140, 12.5) ccw
  dimension "d264" = 10
  dimension "d265" = 5
  dimension "d266" = 10
  dimension "d315" = 10
  dimension "d316" = 10
  dimension "d319" = 10
  dimension "d320" = 10
  dimension "d321" = 10
  dimension "d322" = 10
  dimension "d323" = 10
  dimension "d324" = 30
  dimension "d325" = 30
  dimension "d326" = 30
  dimension "d327" = 10
  dimension "d328" = 10
  dimension "d329" = 10
extrude "Extrude28" cut sketch "Sketch30" against normal up to surface (57 mm away) contours A0 A1 L27 L28 A10 A11 | L29 L30 A8 A9 | L31 L32 A6 A7 | L33 L34 A5 L37 | A4 L37 | L35 L36 A2 A3
sketch "Sketch31" plane through (-3.5, 0, 0) normal (-1, 0, 0) x (0, -1, 0)
  line L0 (0, -2) -> (0, 57)
  line L1 (0, 57) -> (-57, 57)
  line L2 (-57, 57) -> (-57, -2)
  line L3 (-57, -2) -> (0, -2)
  line L4 (-37, 33) -> (-37, 12.5)
  line L5 (-42, 7.5) -> (-47, 7.5)
  line L6 (-47, 12.5) -> (-47, 33)
  line L7 (-10, 33) -> (-10, 12.5)
  line L8 (-20, 12.5) -> (-20, 33)
  line L9 (-42, 7.5) -> (-42, 12.5)
  line L10 (-42, 38) -> (-42, 33)
  line L11 (-15, 7.5) -> (-15, 12.5)
  line L12 (-15, 38) -> (-15, 33)
  arc A0 (-37, 33) -> (-47, 33) centre (-42, 33) ccw
  arc A1 (-47, 12.5) -> (-37, 12.5) centre (-42, 12.5) ccw
  arc A2 (-20, 12.5) -> (-10, 12.5) centre (-15, 12.5) ccw
  arc A3 (-10, 33) -> (-20, 33) centre (-15, 33) ccw
  dimension "d272" = 10
  dimension "d273" = 9.5
  dimension "d278" = 10
  dimension "d279" = 5
  dimension "d280" = 10
  dimension "d281" = 5
  dimension "d282" = 10
  dimension "d283" = 5
  dimension "d284" = 10
  dimension "d285" = 5
  dimension "d286" = 10
extrude "Extrude29" cut sketch "Sketch31" against normal up to surface (3.5 mm away) contours L4 L6 A0 A1 | L7 L8 A2 A3
sketch "Sketch32" plane through (0, 0, 3.5) normal (0, 0, 1) x (-1, 0, 0)
  line L0 (-102.25, -3.5) -> (-102.25, -53.5)
  line L1 (-102.25, -53.5) -> (0, -53.5)
  line L2 (0, -53.5) -> (0, -3.5)
  line L3 (0, -3.5) -> (-102.25, -3.5)
  circle A0 centre (-94.25, -11.5) radius 1.5
  circle A1 centre (-94.25, -45.5) radius 1.5
  circle A2 centre (-60.25, -11.5) radius 1.5
  circle A3 centre (-60.25, -45.5) radius 1.5
  dimension "d289" = 3
  dimension "d290" = 3
  dimension "d291" = 8
  dimension "d292" = 8
  dimension "d293" = 34
  dimension "d294" = 8
  dimension "d300" = 3
  dimension "d301" = 3
  dimension "d302" = 34
  dimension "d303" = 34
  dimension "d304" = 8
  dimension "d305" = 8
hole "Hole1" at (94.25, 11.5, 3.5) at (94.25, 45.5, 3.5) at (60.25, 45.5, 3.5) at (60.25, 11.5, 3.5) direction (0, 0, -1) diameter 3 depth 20 tip angle 180 counterbore diameter 5 counterbore depth 2
sketch "Sketch33" plane through (0, 0, -2) normal (0, 0, -1) x (1, 0, 0)
  circle A0 centre (60.25, -45.5) radius 1.5
  circle A1 centre (94.25, -11.5) radius 1.5
  circle A2 centre (94.25, -45.5) radius 1.5
  circle A3 centre (60.25, -11.5) radius 1.5
  line L0 (160, -53.5) -> (102.25, -53.5)
  line L1 (102.25, -53.5) -> (102.25, -3.5)
  line L2 (102.25, -3.5) -> (160, -3.5)
  line L3 (160, -3.5) -> (160, 0)
  line L4 (160, 0) -> (-3.5, 0)
  line L5 (-3.5, 0) -> (-3.5, -57)
  line L6 (-3.5, -57) -> (160, -57)
  line L7 (160, -57) -> (160, -53.5)
  line L8 (102.25, -53.5) -> (107.25, -53.5)
  line L9 (107.25, -53.5) -> (107.25, -3.5)
  line L10 (107.25, -3.5) -> (102.25, -3.5)
  line L11 (102.25, -3.5) -> (102.25, -53.5)
  line L12 (107.25, -53.5) -> (112.25, -53.5)
  line L13 (112.25, -53.5) -> (112.25, -3.5)
  line L14 (112.25, -3.5) -> (107.25, -3.5)
  line L15 (107.25, -3.5) -> (107.25, -53.5)
  dimension "d306" = 5
  dimension "d307" = 5
extrude "Extrude30" add sketch "Sketch33" against normal up to surface (5.5 mm away) contours L0 L2 L9 L12 L13 L14 L15
sketch "Sketch34" plane through (0, 0, 57) normal (0, 0, 1) x (-1, 0, 0)
  circle A0 centre (-36.5, 21.25) radius 3
  circle A1 centre (-36.5, -78.25) radius 3
  circle A2 centre (-119.8, 21.25) radius 3
  circle A3 centre (-119.8, -78.25) radius 3
  line L0 (3.5, 0) -> (-26.5, 0)
  line L1 (-26.5, 0) -> (-26.5, 30)
  line L2 (-26.5, 30) -> (-46.5, 30)
  line L3 (-46.5, 30) -> (-46.5, 0)
  line L4 (-46.5, 0) -> (-109.8, 0)
  line L5 (-109.8, 0) -> (-109.8, 30)
  line L6 (-109.8, 30) -> (-129.8, 30)
  line L7 (-129.8, 30) -> (-129.8, 0)
  line L8 (-129.8, 0) -> (-160, 0)
  line L9 (-160, 0) -> (-160, -3.5)
  line L10 (-160, -3.5) -> (0, -3.5)
  line L11 (0, -3.5) -> (0, -53.5)
  line L12 (0, -53.5) -> (-160, -53.5)
  line L13 (-160, -53.5) -> (-160, -57)
  line L14 (-160, -57) -> (-129.8, -57)
  line L15 (-129.8, -57) -> (-129.8, -87)
  line L16 (-129.8, -87) -> (-109.8, -87)
  line L17 (-109.8, -87) -> (-109.8, -57)
  line L18 (-109.8, -57) -> (-46.5, -57)
  line L19 (-46.5, -57) -> (-46.5, -87)
  line L20 (-46.5, -87) -> (-26.5, -87)
  line L21 (-26.5, -87) -> (-26.5, -57)
  line L22 (-26.5, -57) -> (3.5, -57)
  line L23 (3.5, -57) -> (3.5, 0)
  line L24 (-160, -3.5) -> (-155, -3.5)
  line L25 (-155, -3.5) -> (-155, -53.5)
  line L26 (-155, -53.5) -> (-160, -53.5)
  line L27 (-160, -53.5) -> (-160, -3.5)
  line L28 (-155, -3.5) -> (-150, -3.5)
  line L29 (-150, -3.5) -> (-150, -53.5)
  line L30 (-150, -53.5) -> (-155, -53.5)
  line L31 (-155, -53.5) -> (-155, -3.5)
  line L32 (-150, -3.5) -> (-145, -3.5)
  line L33 (-145, -3.5) -> (-145, -53.5)
  line L34 (-145, -53.5) -> (-150, -53.5)
  line L35 (-150, -53.5) -> (-150, -3.5)
  dimension "d310" = 5
  dimension "d311" = 5
  dimension "d312" = 5
extrude "Extrude31" add sketch "Sketch34" against normal blind 5 contours L10 L12 L24 L25 L26 L27 L31 | L10 L12 L29 L32 L33 L34 L35
